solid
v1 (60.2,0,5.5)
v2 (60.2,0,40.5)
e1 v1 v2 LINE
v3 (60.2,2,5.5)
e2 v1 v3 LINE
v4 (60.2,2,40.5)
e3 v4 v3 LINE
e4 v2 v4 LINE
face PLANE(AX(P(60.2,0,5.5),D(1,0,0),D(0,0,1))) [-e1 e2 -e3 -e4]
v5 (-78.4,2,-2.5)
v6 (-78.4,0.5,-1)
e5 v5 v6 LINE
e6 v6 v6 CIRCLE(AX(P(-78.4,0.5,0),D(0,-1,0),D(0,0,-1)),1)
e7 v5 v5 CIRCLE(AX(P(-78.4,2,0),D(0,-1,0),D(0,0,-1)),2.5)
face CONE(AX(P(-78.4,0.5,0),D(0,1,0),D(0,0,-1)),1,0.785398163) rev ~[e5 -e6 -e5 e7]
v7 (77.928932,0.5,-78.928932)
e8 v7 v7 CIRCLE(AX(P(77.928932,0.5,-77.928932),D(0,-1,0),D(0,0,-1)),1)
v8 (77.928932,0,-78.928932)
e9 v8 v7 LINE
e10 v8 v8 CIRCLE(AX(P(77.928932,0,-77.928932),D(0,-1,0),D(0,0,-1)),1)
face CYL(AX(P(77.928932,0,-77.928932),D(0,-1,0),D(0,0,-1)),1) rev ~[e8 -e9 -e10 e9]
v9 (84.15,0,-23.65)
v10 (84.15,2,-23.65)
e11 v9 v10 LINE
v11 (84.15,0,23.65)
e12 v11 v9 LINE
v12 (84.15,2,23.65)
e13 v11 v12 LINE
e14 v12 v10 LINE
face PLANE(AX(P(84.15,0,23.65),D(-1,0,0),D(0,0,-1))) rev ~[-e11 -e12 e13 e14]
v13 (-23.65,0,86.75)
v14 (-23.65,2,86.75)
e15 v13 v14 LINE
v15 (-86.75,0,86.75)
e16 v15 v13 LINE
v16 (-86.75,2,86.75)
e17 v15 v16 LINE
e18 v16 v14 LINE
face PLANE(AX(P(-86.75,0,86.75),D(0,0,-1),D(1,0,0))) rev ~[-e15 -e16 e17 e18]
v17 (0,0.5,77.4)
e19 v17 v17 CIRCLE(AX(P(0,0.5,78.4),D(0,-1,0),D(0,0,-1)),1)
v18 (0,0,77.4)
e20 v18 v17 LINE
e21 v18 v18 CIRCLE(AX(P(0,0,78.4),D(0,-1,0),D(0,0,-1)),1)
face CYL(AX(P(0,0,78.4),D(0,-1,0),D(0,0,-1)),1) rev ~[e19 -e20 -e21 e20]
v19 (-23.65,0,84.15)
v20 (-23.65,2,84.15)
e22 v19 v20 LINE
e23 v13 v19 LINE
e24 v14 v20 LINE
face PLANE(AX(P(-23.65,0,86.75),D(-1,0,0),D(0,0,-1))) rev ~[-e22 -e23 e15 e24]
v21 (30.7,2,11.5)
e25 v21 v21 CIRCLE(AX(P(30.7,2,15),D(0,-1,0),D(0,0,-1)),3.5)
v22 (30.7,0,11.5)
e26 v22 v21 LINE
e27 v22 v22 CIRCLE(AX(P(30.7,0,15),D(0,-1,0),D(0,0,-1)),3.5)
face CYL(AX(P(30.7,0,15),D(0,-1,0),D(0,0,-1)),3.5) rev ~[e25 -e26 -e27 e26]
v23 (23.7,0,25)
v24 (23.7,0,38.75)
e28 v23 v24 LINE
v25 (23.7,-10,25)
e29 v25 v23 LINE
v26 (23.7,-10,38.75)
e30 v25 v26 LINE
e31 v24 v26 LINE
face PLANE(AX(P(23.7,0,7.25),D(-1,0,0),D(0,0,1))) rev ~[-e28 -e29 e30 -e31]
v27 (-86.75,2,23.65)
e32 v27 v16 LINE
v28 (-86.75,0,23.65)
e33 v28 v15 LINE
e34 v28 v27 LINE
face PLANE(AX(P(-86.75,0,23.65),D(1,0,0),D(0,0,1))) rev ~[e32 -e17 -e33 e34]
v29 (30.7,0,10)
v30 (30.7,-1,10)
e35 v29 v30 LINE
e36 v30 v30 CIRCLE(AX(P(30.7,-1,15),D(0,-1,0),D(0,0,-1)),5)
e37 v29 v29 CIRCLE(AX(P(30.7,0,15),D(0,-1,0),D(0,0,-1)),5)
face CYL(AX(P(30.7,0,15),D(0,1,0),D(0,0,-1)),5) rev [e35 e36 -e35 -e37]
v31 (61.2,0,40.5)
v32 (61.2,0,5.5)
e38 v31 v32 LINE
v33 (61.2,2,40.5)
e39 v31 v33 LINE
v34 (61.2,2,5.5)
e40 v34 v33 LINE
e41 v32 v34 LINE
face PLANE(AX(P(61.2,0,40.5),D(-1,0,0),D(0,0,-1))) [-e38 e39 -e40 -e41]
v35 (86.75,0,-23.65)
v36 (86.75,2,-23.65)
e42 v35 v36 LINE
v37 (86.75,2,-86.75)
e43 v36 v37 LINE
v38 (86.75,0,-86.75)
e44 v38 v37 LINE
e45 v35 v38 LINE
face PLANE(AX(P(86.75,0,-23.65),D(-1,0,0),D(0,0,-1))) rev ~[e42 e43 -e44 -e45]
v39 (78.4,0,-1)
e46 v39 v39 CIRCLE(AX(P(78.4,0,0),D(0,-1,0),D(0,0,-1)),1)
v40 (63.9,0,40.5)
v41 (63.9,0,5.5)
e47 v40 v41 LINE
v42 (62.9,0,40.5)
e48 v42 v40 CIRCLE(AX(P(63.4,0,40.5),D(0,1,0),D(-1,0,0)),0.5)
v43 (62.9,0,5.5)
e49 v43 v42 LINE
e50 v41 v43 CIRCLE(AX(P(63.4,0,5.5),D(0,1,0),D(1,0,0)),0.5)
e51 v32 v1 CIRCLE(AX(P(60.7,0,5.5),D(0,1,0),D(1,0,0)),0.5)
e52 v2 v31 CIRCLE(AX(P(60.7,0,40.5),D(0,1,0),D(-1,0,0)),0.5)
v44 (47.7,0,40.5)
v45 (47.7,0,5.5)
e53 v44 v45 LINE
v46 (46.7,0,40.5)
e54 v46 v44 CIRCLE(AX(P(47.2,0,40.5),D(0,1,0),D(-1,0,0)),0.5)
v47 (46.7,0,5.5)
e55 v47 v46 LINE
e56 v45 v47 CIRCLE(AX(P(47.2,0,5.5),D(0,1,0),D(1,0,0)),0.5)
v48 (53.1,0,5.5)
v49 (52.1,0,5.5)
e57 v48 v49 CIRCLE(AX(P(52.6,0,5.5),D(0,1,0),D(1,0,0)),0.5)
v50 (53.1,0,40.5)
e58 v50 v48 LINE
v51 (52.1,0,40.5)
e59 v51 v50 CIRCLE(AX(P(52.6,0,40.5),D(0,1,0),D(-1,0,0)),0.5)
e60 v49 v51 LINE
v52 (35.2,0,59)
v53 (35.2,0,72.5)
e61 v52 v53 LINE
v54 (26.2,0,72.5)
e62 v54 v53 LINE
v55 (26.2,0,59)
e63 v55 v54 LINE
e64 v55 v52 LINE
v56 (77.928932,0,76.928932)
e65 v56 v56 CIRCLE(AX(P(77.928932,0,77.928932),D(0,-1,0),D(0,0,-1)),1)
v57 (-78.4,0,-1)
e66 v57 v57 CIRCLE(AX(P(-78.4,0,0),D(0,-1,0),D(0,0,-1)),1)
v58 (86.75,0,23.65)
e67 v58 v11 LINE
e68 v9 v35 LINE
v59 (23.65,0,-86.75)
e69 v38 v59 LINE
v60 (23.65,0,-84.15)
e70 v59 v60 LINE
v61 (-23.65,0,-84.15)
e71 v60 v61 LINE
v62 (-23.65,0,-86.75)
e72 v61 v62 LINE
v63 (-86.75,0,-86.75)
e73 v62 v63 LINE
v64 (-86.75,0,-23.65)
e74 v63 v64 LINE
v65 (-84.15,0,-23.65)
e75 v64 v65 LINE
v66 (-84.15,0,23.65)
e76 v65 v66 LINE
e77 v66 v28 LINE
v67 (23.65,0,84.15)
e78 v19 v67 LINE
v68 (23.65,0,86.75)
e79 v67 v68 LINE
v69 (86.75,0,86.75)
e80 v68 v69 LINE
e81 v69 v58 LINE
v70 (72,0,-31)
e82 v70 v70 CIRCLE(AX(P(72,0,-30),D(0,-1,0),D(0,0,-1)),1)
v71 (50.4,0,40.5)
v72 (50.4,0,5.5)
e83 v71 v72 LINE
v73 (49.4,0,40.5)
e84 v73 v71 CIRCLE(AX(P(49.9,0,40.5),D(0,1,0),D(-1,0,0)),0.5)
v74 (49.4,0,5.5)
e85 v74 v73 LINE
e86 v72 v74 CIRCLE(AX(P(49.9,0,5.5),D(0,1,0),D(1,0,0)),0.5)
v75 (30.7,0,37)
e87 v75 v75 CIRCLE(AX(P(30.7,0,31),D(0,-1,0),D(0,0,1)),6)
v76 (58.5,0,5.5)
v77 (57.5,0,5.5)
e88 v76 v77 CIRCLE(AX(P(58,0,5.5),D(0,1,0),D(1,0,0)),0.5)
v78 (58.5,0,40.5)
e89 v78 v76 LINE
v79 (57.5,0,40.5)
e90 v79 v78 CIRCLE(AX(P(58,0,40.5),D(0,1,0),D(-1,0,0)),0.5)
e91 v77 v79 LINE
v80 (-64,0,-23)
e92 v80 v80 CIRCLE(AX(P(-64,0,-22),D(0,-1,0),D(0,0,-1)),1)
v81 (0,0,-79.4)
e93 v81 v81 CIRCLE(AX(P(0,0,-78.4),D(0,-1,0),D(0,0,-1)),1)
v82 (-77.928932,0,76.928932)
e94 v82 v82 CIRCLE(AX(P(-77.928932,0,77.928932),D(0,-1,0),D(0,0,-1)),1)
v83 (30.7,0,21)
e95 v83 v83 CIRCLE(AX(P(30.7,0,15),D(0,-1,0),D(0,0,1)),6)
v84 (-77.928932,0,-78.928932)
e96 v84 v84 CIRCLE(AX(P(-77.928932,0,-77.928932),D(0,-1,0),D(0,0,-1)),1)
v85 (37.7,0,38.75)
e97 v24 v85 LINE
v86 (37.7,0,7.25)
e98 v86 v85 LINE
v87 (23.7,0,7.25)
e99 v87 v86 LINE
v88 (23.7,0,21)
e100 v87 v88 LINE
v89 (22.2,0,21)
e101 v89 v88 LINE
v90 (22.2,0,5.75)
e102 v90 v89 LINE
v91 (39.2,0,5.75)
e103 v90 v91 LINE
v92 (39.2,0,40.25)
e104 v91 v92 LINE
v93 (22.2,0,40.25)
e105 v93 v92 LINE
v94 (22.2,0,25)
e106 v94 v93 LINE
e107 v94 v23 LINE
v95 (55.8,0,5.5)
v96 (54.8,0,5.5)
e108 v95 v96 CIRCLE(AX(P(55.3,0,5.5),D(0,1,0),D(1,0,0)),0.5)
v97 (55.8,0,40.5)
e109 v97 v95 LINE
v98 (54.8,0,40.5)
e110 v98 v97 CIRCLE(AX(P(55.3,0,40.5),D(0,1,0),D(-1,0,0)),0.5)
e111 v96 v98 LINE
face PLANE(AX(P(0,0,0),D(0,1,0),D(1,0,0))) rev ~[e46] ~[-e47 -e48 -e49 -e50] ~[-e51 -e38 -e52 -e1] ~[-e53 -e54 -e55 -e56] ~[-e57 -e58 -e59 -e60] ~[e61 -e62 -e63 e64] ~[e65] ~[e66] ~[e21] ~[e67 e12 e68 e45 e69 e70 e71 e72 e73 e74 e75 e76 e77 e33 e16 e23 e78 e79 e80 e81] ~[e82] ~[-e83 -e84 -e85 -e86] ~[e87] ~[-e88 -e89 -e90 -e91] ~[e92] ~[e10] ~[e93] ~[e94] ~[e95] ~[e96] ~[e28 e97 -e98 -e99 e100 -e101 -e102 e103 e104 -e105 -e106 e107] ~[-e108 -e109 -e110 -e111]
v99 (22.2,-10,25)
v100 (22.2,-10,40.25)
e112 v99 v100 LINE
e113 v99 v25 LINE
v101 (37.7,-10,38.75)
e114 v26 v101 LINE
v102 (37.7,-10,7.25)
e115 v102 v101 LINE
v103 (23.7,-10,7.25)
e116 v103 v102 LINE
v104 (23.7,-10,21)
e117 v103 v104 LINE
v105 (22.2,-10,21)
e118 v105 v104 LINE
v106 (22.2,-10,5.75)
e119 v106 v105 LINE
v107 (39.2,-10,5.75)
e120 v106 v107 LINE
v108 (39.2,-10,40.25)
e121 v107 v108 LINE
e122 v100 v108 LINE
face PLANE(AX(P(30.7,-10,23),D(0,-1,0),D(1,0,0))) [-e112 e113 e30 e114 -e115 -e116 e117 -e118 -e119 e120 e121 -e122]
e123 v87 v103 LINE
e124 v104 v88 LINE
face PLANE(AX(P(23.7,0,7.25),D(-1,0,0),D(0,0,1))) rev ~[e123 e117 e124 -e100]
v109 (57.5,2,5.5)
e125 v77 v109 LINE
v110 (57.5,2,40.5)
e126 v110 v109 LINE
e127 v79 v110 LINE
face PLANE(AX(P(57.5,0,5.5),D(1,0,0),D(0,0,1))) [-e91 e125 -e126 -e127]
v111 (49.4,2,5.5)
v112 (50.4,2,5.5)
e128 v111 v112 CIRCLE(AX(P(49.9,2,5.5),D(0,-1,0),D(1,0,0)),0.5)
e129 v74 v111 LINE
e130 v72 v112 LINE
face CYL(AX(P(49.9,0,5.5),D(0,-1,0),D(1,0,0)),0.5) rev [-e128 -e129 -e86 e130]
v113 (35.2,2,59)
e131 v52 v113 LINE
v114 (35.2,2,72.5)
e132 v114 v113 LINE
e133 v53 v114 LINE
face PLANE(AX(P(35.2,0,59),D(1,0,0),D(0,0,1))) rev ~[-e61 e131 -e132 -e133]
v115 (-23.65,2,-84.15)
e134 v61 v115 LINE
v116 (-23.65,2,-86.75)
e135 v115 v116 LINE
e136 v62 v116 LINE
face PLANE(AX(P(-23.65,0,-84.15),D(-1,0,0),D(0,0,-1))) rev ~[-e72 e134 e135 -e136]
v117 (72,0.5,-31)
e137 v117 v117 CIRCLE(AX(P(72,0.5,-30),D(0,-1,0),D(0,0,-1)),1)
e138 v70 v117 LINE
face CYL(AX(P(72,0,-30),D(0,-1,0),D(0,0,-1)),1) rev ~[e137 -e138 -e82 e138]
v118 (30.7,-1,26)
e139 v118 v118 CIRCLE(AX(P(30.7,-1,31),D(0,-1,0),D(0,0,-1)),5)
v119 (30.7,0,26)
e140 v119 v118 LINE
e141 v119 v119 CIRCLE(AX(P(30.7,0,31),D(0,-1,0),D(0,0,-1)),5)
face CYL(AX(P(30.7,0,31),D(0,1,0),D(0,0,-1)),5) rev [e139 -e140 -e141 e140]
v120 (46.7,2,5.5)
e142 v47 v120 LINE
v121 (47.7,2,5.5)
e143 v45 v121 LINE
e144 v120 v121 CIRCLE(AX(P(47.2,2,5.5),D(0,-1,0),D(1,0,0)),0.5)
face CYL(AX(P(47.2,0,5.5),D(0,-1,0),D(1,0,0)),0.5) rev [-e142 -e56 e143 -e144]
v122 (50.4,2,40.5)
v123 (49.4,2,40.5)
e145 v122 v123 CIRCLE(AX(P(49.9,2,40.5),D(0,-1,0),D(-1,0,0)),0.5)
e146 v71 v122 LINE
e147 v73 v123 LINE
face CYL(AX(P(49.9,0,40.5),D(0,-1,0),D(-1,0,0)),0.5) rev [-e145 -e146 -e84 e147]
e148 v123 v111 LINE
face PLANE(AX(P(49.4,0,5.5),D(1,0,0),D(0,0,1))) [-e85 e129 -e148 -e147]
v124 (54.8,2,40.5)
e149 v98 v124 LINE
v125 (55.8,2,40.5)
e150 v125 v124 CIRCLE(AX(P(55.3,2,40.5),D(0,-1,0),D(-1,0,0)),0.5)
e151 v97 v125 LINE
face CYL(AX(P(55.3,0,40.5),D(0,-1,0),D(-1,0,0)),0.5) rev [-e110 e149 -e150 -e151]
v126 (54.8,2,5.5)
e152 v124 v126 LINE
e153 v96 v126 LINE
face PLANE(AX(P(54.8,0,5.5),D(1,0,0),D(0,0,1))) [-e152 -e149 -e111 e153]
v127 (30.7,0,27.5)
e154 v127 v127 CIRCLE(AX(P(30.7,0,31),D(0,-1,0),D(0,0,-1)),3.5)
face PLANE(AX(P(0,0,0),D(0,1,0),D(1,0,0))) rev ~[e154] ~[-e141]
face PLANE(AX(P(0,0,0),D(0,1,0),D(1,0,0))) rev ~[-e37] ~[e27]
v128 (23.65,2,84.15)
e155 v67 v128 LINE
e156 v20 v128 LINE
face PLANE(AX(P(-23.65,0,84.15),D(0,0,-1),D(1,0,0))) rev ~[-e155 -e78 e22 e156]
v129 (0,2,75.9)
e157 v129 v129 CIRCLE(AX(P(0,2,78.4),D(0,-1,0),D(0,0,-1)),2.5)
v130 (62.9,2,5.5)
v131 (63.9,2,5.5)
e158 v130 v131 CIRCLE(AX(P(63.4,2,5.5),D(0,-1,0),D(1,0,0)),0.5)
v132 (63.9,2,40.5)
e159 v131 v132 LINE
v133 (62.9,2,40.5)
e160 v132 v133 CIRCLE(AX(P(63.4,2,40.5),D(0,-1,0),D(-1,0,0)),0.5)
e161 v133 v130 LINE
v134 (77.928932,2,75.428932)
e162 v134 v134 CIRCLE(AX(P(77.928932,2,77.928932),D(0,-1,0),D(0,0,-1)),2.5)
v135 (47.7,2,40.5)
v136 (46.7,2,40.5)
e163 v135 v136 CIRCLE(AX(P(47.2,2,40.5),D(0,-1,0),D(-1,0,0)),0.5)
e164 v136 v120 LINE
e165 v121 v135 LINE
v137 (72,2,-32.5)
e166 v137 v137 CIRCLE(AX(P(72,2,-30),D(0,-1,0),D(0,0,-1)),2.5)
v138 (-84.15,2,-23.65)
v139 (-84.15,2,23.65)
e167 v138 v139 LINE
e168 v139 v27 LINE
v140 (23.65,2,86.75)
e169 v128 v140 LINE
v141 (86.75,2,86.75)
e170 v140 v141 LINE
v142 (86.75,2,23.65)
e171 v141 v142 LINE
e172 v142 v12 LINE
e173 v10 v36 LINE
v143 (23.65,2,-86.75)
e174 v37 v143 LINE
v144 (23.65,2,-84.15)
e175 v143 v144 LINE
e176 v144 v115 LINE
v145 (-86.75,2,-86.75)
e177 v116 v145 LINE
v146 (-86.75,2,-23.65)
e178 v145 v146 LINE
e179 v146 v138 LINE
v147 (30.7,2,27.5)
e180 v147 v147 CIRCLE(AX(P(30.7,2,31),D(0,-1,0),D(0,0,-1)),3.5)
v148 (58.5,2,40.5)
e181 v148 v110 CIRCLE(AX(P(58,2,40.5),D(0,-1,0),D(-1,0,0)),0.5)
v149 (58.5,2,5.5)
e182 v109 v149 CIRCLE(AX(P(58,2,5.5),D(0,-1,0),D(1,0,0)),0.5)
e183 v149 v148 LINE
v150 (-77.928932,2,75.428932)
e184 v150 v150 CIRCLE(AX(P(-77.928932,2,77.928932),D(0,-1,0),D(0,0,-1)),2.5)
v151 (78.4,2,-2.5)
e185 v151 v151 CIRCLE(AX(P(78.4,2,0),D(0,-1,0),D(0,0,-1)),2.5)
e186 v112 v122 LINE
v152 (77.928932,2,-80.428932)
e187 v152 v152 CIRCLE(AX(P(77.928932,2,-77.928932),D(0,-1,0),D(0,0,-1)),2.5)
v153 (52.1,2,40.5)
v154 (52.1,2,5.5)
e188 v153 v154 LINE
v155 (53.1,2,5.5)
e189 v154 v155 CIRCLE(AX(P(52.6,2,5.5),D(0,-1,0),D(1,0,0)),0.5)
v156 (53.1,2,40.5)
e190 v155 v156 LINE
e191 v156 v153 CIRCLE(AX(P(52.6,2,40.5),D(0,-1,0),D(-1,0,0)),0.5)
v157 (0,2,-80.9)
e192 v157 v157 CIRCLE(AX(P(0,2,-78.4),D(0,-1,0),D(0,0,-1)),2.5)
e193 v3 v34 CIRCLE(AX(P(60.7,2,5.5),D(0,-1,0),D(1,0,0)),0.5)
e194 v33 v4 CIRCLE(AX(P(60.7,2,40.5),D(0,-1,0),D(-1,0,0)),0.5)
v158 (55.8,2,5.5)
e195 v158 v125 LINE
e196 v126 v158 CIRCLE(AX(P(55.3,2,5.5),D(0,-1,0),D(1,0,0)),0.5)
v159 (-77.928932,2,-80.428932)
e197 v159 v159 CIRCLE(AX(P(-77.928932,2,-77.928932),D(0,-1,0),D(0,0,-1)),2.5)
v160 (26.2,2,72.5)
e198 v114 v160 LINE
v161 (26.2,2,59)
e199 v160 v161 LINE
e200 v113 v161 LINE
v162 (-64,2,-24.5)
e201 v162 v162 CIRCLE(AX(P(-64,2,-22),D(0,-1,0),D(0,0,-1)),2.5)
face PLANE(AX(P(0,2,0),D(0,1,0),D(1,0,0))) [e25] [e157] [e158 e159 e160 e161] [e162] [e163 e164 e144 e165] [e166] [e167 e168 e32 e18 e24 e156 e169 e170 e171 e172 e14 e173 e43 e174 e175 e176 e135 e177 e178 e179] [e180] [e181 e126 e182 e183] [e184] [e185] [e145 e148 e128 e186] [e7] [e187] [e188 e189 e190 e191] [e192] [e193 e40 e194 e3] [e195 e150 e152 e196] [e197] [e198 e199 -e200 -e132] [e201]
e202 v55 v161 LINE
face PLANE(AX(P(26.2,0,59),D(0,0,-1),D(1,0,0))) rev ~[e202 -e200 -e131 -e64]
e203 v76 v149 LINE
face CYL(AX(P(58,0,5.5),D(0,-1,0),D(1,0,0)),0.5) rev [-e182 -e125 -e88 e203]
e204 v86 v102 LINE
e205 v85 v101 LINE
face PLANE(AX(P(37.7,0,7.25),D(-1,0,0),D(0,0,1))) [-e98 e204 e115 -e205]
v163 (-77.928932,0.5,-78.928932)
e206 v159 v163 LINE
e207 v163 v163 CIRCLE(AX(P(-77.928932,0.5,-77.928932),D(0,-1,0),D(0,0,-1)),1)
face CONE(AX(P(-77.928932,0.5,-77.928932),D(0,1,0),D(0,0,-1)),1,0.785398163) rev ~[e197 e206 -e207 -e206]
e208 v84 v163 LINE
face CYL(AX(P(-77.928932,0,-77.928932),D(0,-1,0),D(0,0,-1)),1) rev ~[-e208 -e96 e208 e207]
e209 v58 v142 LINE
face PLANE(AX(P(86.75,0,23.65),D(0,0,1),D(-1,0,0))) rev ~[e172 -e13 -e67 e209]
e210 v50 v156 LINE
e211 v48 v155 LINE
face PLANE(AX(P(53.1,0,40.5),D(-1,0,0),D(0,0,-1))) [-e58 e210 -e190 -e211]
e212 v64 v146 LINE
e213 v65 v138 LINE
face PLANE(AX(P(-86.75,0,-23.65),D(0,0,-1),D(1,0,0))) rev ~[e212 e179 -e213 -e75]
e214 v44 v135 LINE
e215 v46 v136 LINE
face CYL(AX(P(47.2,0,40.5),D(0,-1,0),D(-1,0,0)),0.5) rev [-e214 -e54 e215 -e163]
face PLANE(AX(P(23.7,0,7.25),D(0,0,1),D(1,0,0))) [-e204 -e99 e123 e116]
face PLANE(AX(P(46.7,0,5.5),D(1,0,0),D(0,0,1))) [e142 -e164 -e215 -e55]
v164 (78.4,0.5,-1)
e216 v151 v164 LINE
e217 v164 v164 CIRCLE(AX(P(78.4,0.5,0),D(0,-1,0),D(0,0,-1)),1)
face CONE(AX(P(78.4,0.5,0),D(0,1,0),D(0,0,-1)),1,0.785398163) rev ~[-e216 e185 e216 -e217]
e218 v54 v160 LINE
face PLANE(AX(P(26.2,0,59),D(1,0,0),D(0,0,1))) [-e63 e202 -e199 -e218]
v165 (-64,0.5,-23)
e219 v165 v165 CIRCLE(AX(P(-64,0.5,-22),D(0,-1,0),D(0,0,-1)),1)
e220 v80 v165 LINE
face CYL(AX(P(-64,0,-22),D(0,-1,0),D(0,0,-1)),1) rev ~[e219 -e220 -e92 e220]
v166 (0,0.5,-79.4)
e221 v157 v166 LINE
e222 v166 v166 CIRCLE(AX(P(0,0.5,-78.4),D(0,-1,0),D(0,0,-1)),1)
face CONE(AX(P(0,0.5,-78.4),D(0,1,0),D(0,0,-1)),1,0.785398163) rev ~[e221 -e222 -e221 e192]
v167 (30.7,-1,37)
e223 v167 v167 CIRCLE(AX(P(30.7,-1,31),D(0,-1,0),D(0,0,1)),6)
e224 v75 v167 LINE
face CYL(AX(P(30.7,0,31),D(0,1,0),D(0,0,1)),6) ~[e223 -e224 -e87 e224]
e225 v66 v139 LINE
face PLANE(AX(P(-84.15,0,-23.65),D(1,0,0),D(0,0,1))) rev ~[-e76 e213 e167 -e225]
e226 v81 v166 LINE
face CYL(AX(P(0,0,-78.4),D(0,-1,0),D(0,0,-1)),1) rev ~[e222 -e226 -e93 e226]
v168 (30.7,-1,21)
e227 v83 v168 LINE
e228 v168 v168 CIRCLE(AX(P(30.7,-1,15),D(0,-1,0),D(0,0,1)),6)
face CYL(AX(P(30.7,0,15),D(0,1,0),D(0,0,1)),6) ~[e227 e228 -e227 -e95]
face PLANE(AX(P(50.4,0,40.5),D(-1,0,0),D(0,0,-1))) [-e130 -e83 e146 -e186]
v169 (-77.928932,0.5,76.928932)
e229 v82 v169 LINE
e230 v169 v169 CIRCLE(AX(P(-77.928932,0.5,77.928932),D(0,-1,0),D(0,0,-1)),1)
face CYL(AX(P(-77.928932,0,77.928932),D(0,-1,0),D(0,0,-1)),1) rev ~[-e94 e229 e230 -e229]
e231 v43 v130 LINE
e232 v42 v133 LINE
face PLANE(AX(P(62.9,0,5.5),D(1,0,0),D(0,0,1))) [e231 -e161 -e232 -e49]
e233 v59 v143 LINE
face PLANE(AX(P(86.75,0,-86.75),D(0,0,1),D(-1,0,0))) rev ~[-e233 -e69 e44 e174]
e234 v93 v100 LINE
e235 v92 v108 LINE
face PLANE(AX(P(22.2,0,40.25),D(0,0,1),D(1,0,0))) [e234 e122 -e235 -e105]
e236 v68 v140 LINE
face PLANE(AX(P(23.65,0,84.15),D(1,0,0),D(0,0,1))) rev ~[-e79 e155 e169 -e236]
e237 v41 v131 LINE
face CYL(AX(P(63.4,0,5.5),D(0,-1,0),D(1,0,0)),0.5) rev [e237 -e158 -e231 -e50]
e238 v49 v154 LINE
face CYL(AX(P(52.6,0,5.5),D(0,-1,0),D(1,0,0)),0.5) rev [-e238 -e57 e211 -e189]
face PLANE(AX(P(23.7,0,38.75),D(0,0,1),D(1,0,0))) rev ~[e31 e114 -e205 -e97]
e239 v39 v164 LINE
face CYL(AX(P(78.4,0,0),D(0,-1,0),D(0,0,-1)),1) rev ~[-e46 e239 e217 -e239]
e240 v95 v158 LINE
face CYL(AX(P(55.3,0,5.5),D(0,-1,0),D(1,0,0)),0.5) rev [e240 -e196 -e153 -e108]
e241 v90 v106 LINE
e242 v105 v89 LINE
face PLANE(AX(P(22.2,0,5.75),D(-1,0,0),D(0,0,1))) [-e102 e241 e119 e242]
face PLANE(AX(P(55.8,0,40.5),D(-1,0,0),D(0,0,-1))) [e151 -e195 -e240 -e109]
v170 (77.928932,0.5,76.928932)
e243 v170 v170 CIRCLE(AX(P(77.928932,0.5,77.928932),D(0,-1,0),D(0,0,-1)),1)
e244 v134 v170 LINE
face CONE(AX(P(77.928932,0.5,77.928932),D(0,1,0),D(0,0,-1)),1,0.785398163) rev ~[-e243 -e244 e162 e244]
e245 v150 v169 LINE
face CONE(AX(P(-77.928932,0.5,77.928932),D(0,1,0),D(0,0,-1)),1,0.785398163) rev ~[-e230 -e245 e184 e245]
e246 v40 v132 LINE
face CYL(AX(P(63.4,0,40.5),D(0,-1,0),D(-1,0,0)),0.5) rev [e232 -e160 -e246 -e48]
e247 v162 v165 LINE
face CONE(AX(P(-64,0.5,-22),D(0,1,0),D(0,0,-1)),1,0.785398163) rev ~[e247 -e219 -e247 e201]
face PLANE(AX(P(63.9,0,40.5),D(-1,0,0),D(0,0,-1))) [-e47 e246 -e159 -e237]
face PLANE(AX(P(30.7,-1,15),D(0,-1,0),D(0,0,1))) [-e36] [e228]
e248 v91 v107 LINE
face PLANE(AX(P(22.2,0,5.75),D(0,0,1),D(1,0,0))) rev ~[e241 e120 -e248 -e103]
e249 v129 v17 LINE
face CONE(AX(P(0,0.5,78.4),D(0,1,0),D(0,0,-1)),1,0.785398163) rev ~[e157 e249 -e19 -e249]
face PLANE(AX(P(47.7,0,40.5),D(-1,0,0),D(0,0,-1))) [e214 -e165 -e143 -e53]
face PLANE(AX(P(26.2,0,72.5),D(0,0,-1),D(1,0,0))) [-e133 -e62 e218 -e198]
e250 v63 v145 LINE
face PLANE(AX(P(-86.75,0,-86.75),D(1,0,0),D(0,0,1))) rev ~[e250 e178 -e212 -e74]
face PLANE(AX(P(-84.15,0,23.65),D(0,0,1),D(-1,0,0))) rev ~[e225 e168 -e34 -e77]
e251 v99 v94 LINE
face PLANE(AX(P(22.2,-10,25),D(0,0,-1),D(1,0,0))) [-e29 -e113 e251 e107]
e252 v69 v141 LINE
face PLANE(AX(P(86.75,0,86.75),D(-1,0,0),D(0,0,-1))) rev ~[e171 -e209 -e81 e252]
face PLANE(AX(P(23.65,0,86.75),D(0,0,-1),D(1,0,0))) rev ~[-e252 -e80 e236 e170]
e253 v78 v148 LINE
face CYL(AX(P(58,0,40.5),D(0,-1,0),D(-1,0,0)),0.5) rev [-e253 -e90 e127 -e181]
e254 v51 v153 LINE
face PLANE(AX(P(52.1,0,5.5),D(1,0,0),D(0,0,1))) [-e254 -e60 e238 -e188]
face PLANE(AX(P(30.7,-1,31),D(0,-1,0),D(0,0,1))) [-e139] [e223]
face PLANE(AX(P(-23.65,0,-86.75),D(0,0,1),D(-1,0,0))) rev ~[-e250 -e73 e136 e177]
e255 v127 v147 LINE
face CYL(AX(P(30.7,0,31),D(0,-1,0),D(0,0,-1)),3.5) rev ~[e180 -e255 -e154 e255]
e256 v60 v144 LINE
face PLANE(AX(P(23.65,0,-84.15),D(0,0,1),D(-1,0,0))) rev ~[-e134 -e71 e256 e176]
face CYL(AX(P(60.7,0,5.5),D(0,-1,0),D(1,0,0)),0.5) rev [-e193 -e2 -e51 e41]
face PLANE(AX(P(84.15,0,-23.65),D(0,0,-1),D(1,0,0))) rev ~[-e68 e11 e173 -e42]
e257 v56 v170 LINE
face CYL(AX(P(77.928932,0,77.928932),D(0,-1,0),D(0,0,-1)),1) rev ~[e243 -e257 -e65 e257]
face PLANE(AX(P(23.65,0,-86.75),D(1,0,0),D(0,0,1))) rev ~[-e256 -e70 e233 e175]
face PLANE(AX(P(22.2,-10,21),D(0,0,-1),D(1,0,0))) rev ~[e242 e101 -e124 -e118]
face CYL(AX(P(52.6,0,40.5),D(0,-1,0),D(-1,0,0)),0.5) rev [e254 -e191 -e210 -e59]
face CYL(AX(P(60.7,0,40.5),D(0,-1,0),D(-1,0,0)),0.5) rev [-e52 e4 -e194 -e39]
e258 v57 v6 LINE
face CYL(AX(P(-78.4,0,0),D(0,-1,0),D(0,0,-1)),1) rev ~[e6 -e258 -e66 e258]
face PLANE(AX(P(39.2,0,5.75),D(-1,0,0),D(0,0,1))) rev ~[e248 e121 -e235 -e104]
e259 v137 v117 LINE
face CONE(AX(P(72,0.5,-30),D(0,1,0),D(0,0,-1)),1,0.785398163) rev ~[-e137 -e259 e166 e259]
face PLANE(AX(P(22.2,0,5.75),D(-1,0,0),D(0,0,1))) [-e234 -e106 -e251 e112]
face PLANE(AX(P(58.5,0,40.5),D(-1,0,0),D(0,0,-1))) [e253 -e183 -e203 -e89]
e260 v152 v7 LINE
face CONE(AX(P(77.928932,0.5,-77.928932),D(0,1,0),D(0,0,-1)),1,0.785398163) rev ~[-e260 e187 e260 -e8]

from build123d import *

# Parameters (mm, degrees)
BOSS_EXTRUDE1_DEPTH = 2
SKETCH2_R           = 1
CUT_EXTRUDE1_DEPTH  = 123.699327627
CHAMFER1_SIZE       = 1.5
CUT_EXTRUDE3_DEPTH  = 123.699327627
SKETCH3_W           = 9
SKETCH3_H           = 13.5
CUT_EXTRUDE2_DEPTH  = 123.699327627
SKETCH5_W           = 17
SKETCH5_H           = 34.5
SKETCH5_W_2         = 14
SKETCH5_H_2         = 31.5
BOSS_EXTRUDE2_DEPTH = 10
SKETCH7_R           = 3.5
CUT_EXTRUDE5_DEPTH  = 124.089906166
SKETCH6_W           = 1.5
SKETCH6_H           = 4
CUT_EXTRUDE4_DEPTH  = 10
SKETCH8_R           = 6
SKETCH8_R_2         = 5
BOSS_EXTRUDE3_DEPTH = 1


with BuildPart() as part:
    # Sketch1 → Boss-Extrude1 (new body)
    with BuildSketch(Plane(origin=(0, 0, 0), x_dir=(1, 0, 0), z_dir=(0, 1, 0))):
        Polygon((23.65, -86.75), (86.75, -86.75), (86.75, -23.65), (84.15, -23.65), (84.15, 23.65), (86.75, 23.65), (86.75, 86.75), (23.65, 86.75), (23.65, 84.15), (-23.65, 84.15), (-23.65, 86.75), (-86.75, 86.75), (-86.75, 23.65), (-84.15, 23.65), (-84.15, -23.65), (-86.75, -23.65), (-86.75, -86.75), (-23.65, -86.75), (-23.65, -84.15), (23.65, -84.15), align=None)
    extrude(amount=BOSS_EXTRUDE1_DEPTH)

    # Sketch2 → Cut-Extrude1 (cut, through all)
    with BuildSketch(Plane.XZ):
        with Locations(Location((-77.928932188, 77.928932188, 0), (0, 0, 270))):
            Circle(SKETCH2_R)
        with Locations(Location((0, 78.4, 0), (0, 0, 270))):
            Circle(SKETCH2_R)
        with Locations(Location((77.928932188, 77.928932188, 0), (0, 0, 270))):
            Circle(SKETCH2_R)
        with Locations(Location((-78.4, 0, 0), (0, 0, 270))):
            Circle(SKETCH2_R)
        with Locations(Location((78.4, 0, 0), (0, 0, 270))):
            Circle(SKETCH2_R)
        with Locations(Location((72, -30, 0), (0, 0, 270))):
            Circle(SKETCH2_R)
        with Locations(Location((-64, -22, 0), (0, 0, 270))):
            Circle(SKETCH2_R)
        with Locations(Location((-77.928932188, -77.928932188, 0), (0, 0, 270))):
            Circle(SKETCH2_R)
        with Locations(Location((0, -78.4, 0), (0, 0, 270))):
            Circle(SKETCH2_R)
        with Locations(Location((77.928932188, -77.928932188, 0), (0, 0, 270))):
            Circle(SKETCH2_R)
    extrude(amount=-CUT_EXTRUDE1_DEPTH, mode=Mode.SUBTRACT)

    # Chamfer1
    chamfer1_edges = [part.edges().sort_by_distance(p)[0] for p in [
        (-77.928932188, 2, 78.928932188),
        (0, 2, 79.4),
        (77.928932188, 2, 78.928932188),
        (-78.4, 2, 1),
        (78.4, 2, 1),
        (72, 2, -29),
        (-64, 2, -21),
        (-77.928932188, 2, -76.928932188),
        (0, 2, -77.4),
        (77.928932188, 2, -76.928932188),
    ]]
    chamfer(chamfer1_edges, length=CHAMFER1_SIZE)

    # Sketch4 → Cut-Extrude3 (cut, through all)
    with BuildSketch(Plane.XZ):
        with BuildLine():
            Line((47.7, 40.5), (47.7, 5.5))
            ThreePointArc((47.7, 5.5), (47.2, 5), (46.7, 5.5))
            Line((46.7, 5.5), (46.7, 40.5))
            ThreePointArc((46.7, 40.5), (47.2, 41), (47.7, 40.5))
        make_face()
        with BuildLine():
            Line((50.4, 40.5), (50.4, 5.5))
            ThreePointArc((50.4, 5.5), (49.9, 5), (49.4, 5.5))
            Line((49.4, 5.5), (49.4, 40.5))
            ThreePointArc((49.4, 40.5), (49.9, 41), (50.4, 40.5))
        make_face()
        with BuildLine():
            Line((53.1, 40.5), (53.1, 5.5))
            ThreePointArc((53.1, 5.5), (52.6, 5), (52.1, 5.5))
            Line((52.1, 5.5), (52.1, 40.5))
            ThreePointArc((52.1, 40.5), (52.6, 41), (53.1, 40.5))
        make_face()
        with BuildLine():
            Line((55.8, 40.5), (55.8, 5.5))
            ThreePointArc((55.8, 5.5), (55.3, 5), (54.8, 5.5))
            Line((54.8, 5.5), (54.8, 40.5))
            ThreePointArc((54.8, 40.5), (55.3, 41), (55.8, 40.5))
        make_face()
        with BuildLine():
            Line((58.5, 40.5), (58.5, 5.5))
            ThreePointArc((58.5, 5.5), (58, 5), (57.5, 5.5))
            Line((57.5, 5.5), (57.5, 40.5))
            ThreePointArc((57.5, 40.5), (58, 41), (58.5, 40.5))
        make_face()
        with BuildLine():
            Line((61.2, 40.5), (61.2, 5.5))
            ThreePointArc((61.2, 5.5), (60.7, 5), (60.2, 5.5))
            Line((60.2, 5.5), (60.2, 40.5))
            ThreePointArc((60.2, 40.5), (60.7, 41), (61.2, 40.5))
        make_face()
        with BuildLine():
            Line((63.9, 40.5), (63.9, 5.5))
            ThreePointArc((63.9, 5.5), (63.4, 5), (62.9, 5.5))
            Line((62.9, 5.5), (62.9, 40.5))
            ThreePointArc((62.9, 40.5), (63.4, 41), (63.9, 40.5))
        make_face()
    extrude(amount=-CUT_EXTRUDE3_DEPTH, mode=Mode.SUBTRACT)

    # Sketch3 → Cut-Extrude2 (cut, through all)
    with BuildSketch(Plane.XZ):
        with Locations((30.7, 65.75)):
            Rectangle(SKETCH3_W, SKETCH3_H)
    extrude(amount=-CUT_EXTRUDE2_DEPTH, mode=Mode.SUBTRACT)

    # Sketch5 → Boss-Extrude2 (add)
    with BuildSketch(Plane.XZ):
        with Locations((30.7, 23)):
            Rectangle(SKETCH5_W, SKETCH5_H)
        with Locations((30.7, 23)):
            Rectangle(SKETCH5_W_2, SKETCH5_H_2, mode=Mode.SUBTRACT)
    extrude(amount=BOSS_EXTRUDE2_DEPTH)

    # Sketch7 → Cut-Extrude5 (cut, through all)
    with BuildSketch(Plane.XZ):
        with Locations(Location((30.7, 15, 0), (0, 0, 270))):
            Circle(SKETCH7_R)
        with Locations(Location((30.7, 31, 0), (0, 0, 270))):
            Circle(SKETCH7_R)
    extrude(amount=-CUT_EXTRUDE5_DEPTH, mode=Mode.SUBTRACT)

    # Sketch6 → Cut-Extrude4 (cut)
    with BuildSketch(Plane.XZ.offset(10)):
        with Locations((22.95, 23)):
            Rectangle(SKETCH6_W, SKETCH6_H)
    extrude(amount=-CUT_EXTRUDE4_DEPTH, mode=Mode.SUBTRACT)

    # Sketch8 → Boss-Extrude3 (add)
    # profile 1 of 2: a face of its own
    with BuildSketch(Plane.XZ):
        with Locations(Location((30.7, 31, 0), (0, 0, 90))):
            Circle(SKETCH8_R)
        with Locations(Location((30.7, 31, 0), (0, 0, 270))):
            Circle(SKETCH8_R_2, mode=Mode.SUBTRACT)
    # profile 2 of 2: a face of its own
    with BuildSketch(Plane.XZ):
        with Locations(Location((30.7, 15, 0), (0, 0, 90))):
            Circle(SKETCH8_R)
        with Locations(Location((30.7, 15, 0), (0, 0, 270))):
            Circle(SKETCH8_R_2, mode=Mode.SUBTRACT)
    extrude(amount=BOSS_EXTRUDE3_DEPTH)


solid = part.part
